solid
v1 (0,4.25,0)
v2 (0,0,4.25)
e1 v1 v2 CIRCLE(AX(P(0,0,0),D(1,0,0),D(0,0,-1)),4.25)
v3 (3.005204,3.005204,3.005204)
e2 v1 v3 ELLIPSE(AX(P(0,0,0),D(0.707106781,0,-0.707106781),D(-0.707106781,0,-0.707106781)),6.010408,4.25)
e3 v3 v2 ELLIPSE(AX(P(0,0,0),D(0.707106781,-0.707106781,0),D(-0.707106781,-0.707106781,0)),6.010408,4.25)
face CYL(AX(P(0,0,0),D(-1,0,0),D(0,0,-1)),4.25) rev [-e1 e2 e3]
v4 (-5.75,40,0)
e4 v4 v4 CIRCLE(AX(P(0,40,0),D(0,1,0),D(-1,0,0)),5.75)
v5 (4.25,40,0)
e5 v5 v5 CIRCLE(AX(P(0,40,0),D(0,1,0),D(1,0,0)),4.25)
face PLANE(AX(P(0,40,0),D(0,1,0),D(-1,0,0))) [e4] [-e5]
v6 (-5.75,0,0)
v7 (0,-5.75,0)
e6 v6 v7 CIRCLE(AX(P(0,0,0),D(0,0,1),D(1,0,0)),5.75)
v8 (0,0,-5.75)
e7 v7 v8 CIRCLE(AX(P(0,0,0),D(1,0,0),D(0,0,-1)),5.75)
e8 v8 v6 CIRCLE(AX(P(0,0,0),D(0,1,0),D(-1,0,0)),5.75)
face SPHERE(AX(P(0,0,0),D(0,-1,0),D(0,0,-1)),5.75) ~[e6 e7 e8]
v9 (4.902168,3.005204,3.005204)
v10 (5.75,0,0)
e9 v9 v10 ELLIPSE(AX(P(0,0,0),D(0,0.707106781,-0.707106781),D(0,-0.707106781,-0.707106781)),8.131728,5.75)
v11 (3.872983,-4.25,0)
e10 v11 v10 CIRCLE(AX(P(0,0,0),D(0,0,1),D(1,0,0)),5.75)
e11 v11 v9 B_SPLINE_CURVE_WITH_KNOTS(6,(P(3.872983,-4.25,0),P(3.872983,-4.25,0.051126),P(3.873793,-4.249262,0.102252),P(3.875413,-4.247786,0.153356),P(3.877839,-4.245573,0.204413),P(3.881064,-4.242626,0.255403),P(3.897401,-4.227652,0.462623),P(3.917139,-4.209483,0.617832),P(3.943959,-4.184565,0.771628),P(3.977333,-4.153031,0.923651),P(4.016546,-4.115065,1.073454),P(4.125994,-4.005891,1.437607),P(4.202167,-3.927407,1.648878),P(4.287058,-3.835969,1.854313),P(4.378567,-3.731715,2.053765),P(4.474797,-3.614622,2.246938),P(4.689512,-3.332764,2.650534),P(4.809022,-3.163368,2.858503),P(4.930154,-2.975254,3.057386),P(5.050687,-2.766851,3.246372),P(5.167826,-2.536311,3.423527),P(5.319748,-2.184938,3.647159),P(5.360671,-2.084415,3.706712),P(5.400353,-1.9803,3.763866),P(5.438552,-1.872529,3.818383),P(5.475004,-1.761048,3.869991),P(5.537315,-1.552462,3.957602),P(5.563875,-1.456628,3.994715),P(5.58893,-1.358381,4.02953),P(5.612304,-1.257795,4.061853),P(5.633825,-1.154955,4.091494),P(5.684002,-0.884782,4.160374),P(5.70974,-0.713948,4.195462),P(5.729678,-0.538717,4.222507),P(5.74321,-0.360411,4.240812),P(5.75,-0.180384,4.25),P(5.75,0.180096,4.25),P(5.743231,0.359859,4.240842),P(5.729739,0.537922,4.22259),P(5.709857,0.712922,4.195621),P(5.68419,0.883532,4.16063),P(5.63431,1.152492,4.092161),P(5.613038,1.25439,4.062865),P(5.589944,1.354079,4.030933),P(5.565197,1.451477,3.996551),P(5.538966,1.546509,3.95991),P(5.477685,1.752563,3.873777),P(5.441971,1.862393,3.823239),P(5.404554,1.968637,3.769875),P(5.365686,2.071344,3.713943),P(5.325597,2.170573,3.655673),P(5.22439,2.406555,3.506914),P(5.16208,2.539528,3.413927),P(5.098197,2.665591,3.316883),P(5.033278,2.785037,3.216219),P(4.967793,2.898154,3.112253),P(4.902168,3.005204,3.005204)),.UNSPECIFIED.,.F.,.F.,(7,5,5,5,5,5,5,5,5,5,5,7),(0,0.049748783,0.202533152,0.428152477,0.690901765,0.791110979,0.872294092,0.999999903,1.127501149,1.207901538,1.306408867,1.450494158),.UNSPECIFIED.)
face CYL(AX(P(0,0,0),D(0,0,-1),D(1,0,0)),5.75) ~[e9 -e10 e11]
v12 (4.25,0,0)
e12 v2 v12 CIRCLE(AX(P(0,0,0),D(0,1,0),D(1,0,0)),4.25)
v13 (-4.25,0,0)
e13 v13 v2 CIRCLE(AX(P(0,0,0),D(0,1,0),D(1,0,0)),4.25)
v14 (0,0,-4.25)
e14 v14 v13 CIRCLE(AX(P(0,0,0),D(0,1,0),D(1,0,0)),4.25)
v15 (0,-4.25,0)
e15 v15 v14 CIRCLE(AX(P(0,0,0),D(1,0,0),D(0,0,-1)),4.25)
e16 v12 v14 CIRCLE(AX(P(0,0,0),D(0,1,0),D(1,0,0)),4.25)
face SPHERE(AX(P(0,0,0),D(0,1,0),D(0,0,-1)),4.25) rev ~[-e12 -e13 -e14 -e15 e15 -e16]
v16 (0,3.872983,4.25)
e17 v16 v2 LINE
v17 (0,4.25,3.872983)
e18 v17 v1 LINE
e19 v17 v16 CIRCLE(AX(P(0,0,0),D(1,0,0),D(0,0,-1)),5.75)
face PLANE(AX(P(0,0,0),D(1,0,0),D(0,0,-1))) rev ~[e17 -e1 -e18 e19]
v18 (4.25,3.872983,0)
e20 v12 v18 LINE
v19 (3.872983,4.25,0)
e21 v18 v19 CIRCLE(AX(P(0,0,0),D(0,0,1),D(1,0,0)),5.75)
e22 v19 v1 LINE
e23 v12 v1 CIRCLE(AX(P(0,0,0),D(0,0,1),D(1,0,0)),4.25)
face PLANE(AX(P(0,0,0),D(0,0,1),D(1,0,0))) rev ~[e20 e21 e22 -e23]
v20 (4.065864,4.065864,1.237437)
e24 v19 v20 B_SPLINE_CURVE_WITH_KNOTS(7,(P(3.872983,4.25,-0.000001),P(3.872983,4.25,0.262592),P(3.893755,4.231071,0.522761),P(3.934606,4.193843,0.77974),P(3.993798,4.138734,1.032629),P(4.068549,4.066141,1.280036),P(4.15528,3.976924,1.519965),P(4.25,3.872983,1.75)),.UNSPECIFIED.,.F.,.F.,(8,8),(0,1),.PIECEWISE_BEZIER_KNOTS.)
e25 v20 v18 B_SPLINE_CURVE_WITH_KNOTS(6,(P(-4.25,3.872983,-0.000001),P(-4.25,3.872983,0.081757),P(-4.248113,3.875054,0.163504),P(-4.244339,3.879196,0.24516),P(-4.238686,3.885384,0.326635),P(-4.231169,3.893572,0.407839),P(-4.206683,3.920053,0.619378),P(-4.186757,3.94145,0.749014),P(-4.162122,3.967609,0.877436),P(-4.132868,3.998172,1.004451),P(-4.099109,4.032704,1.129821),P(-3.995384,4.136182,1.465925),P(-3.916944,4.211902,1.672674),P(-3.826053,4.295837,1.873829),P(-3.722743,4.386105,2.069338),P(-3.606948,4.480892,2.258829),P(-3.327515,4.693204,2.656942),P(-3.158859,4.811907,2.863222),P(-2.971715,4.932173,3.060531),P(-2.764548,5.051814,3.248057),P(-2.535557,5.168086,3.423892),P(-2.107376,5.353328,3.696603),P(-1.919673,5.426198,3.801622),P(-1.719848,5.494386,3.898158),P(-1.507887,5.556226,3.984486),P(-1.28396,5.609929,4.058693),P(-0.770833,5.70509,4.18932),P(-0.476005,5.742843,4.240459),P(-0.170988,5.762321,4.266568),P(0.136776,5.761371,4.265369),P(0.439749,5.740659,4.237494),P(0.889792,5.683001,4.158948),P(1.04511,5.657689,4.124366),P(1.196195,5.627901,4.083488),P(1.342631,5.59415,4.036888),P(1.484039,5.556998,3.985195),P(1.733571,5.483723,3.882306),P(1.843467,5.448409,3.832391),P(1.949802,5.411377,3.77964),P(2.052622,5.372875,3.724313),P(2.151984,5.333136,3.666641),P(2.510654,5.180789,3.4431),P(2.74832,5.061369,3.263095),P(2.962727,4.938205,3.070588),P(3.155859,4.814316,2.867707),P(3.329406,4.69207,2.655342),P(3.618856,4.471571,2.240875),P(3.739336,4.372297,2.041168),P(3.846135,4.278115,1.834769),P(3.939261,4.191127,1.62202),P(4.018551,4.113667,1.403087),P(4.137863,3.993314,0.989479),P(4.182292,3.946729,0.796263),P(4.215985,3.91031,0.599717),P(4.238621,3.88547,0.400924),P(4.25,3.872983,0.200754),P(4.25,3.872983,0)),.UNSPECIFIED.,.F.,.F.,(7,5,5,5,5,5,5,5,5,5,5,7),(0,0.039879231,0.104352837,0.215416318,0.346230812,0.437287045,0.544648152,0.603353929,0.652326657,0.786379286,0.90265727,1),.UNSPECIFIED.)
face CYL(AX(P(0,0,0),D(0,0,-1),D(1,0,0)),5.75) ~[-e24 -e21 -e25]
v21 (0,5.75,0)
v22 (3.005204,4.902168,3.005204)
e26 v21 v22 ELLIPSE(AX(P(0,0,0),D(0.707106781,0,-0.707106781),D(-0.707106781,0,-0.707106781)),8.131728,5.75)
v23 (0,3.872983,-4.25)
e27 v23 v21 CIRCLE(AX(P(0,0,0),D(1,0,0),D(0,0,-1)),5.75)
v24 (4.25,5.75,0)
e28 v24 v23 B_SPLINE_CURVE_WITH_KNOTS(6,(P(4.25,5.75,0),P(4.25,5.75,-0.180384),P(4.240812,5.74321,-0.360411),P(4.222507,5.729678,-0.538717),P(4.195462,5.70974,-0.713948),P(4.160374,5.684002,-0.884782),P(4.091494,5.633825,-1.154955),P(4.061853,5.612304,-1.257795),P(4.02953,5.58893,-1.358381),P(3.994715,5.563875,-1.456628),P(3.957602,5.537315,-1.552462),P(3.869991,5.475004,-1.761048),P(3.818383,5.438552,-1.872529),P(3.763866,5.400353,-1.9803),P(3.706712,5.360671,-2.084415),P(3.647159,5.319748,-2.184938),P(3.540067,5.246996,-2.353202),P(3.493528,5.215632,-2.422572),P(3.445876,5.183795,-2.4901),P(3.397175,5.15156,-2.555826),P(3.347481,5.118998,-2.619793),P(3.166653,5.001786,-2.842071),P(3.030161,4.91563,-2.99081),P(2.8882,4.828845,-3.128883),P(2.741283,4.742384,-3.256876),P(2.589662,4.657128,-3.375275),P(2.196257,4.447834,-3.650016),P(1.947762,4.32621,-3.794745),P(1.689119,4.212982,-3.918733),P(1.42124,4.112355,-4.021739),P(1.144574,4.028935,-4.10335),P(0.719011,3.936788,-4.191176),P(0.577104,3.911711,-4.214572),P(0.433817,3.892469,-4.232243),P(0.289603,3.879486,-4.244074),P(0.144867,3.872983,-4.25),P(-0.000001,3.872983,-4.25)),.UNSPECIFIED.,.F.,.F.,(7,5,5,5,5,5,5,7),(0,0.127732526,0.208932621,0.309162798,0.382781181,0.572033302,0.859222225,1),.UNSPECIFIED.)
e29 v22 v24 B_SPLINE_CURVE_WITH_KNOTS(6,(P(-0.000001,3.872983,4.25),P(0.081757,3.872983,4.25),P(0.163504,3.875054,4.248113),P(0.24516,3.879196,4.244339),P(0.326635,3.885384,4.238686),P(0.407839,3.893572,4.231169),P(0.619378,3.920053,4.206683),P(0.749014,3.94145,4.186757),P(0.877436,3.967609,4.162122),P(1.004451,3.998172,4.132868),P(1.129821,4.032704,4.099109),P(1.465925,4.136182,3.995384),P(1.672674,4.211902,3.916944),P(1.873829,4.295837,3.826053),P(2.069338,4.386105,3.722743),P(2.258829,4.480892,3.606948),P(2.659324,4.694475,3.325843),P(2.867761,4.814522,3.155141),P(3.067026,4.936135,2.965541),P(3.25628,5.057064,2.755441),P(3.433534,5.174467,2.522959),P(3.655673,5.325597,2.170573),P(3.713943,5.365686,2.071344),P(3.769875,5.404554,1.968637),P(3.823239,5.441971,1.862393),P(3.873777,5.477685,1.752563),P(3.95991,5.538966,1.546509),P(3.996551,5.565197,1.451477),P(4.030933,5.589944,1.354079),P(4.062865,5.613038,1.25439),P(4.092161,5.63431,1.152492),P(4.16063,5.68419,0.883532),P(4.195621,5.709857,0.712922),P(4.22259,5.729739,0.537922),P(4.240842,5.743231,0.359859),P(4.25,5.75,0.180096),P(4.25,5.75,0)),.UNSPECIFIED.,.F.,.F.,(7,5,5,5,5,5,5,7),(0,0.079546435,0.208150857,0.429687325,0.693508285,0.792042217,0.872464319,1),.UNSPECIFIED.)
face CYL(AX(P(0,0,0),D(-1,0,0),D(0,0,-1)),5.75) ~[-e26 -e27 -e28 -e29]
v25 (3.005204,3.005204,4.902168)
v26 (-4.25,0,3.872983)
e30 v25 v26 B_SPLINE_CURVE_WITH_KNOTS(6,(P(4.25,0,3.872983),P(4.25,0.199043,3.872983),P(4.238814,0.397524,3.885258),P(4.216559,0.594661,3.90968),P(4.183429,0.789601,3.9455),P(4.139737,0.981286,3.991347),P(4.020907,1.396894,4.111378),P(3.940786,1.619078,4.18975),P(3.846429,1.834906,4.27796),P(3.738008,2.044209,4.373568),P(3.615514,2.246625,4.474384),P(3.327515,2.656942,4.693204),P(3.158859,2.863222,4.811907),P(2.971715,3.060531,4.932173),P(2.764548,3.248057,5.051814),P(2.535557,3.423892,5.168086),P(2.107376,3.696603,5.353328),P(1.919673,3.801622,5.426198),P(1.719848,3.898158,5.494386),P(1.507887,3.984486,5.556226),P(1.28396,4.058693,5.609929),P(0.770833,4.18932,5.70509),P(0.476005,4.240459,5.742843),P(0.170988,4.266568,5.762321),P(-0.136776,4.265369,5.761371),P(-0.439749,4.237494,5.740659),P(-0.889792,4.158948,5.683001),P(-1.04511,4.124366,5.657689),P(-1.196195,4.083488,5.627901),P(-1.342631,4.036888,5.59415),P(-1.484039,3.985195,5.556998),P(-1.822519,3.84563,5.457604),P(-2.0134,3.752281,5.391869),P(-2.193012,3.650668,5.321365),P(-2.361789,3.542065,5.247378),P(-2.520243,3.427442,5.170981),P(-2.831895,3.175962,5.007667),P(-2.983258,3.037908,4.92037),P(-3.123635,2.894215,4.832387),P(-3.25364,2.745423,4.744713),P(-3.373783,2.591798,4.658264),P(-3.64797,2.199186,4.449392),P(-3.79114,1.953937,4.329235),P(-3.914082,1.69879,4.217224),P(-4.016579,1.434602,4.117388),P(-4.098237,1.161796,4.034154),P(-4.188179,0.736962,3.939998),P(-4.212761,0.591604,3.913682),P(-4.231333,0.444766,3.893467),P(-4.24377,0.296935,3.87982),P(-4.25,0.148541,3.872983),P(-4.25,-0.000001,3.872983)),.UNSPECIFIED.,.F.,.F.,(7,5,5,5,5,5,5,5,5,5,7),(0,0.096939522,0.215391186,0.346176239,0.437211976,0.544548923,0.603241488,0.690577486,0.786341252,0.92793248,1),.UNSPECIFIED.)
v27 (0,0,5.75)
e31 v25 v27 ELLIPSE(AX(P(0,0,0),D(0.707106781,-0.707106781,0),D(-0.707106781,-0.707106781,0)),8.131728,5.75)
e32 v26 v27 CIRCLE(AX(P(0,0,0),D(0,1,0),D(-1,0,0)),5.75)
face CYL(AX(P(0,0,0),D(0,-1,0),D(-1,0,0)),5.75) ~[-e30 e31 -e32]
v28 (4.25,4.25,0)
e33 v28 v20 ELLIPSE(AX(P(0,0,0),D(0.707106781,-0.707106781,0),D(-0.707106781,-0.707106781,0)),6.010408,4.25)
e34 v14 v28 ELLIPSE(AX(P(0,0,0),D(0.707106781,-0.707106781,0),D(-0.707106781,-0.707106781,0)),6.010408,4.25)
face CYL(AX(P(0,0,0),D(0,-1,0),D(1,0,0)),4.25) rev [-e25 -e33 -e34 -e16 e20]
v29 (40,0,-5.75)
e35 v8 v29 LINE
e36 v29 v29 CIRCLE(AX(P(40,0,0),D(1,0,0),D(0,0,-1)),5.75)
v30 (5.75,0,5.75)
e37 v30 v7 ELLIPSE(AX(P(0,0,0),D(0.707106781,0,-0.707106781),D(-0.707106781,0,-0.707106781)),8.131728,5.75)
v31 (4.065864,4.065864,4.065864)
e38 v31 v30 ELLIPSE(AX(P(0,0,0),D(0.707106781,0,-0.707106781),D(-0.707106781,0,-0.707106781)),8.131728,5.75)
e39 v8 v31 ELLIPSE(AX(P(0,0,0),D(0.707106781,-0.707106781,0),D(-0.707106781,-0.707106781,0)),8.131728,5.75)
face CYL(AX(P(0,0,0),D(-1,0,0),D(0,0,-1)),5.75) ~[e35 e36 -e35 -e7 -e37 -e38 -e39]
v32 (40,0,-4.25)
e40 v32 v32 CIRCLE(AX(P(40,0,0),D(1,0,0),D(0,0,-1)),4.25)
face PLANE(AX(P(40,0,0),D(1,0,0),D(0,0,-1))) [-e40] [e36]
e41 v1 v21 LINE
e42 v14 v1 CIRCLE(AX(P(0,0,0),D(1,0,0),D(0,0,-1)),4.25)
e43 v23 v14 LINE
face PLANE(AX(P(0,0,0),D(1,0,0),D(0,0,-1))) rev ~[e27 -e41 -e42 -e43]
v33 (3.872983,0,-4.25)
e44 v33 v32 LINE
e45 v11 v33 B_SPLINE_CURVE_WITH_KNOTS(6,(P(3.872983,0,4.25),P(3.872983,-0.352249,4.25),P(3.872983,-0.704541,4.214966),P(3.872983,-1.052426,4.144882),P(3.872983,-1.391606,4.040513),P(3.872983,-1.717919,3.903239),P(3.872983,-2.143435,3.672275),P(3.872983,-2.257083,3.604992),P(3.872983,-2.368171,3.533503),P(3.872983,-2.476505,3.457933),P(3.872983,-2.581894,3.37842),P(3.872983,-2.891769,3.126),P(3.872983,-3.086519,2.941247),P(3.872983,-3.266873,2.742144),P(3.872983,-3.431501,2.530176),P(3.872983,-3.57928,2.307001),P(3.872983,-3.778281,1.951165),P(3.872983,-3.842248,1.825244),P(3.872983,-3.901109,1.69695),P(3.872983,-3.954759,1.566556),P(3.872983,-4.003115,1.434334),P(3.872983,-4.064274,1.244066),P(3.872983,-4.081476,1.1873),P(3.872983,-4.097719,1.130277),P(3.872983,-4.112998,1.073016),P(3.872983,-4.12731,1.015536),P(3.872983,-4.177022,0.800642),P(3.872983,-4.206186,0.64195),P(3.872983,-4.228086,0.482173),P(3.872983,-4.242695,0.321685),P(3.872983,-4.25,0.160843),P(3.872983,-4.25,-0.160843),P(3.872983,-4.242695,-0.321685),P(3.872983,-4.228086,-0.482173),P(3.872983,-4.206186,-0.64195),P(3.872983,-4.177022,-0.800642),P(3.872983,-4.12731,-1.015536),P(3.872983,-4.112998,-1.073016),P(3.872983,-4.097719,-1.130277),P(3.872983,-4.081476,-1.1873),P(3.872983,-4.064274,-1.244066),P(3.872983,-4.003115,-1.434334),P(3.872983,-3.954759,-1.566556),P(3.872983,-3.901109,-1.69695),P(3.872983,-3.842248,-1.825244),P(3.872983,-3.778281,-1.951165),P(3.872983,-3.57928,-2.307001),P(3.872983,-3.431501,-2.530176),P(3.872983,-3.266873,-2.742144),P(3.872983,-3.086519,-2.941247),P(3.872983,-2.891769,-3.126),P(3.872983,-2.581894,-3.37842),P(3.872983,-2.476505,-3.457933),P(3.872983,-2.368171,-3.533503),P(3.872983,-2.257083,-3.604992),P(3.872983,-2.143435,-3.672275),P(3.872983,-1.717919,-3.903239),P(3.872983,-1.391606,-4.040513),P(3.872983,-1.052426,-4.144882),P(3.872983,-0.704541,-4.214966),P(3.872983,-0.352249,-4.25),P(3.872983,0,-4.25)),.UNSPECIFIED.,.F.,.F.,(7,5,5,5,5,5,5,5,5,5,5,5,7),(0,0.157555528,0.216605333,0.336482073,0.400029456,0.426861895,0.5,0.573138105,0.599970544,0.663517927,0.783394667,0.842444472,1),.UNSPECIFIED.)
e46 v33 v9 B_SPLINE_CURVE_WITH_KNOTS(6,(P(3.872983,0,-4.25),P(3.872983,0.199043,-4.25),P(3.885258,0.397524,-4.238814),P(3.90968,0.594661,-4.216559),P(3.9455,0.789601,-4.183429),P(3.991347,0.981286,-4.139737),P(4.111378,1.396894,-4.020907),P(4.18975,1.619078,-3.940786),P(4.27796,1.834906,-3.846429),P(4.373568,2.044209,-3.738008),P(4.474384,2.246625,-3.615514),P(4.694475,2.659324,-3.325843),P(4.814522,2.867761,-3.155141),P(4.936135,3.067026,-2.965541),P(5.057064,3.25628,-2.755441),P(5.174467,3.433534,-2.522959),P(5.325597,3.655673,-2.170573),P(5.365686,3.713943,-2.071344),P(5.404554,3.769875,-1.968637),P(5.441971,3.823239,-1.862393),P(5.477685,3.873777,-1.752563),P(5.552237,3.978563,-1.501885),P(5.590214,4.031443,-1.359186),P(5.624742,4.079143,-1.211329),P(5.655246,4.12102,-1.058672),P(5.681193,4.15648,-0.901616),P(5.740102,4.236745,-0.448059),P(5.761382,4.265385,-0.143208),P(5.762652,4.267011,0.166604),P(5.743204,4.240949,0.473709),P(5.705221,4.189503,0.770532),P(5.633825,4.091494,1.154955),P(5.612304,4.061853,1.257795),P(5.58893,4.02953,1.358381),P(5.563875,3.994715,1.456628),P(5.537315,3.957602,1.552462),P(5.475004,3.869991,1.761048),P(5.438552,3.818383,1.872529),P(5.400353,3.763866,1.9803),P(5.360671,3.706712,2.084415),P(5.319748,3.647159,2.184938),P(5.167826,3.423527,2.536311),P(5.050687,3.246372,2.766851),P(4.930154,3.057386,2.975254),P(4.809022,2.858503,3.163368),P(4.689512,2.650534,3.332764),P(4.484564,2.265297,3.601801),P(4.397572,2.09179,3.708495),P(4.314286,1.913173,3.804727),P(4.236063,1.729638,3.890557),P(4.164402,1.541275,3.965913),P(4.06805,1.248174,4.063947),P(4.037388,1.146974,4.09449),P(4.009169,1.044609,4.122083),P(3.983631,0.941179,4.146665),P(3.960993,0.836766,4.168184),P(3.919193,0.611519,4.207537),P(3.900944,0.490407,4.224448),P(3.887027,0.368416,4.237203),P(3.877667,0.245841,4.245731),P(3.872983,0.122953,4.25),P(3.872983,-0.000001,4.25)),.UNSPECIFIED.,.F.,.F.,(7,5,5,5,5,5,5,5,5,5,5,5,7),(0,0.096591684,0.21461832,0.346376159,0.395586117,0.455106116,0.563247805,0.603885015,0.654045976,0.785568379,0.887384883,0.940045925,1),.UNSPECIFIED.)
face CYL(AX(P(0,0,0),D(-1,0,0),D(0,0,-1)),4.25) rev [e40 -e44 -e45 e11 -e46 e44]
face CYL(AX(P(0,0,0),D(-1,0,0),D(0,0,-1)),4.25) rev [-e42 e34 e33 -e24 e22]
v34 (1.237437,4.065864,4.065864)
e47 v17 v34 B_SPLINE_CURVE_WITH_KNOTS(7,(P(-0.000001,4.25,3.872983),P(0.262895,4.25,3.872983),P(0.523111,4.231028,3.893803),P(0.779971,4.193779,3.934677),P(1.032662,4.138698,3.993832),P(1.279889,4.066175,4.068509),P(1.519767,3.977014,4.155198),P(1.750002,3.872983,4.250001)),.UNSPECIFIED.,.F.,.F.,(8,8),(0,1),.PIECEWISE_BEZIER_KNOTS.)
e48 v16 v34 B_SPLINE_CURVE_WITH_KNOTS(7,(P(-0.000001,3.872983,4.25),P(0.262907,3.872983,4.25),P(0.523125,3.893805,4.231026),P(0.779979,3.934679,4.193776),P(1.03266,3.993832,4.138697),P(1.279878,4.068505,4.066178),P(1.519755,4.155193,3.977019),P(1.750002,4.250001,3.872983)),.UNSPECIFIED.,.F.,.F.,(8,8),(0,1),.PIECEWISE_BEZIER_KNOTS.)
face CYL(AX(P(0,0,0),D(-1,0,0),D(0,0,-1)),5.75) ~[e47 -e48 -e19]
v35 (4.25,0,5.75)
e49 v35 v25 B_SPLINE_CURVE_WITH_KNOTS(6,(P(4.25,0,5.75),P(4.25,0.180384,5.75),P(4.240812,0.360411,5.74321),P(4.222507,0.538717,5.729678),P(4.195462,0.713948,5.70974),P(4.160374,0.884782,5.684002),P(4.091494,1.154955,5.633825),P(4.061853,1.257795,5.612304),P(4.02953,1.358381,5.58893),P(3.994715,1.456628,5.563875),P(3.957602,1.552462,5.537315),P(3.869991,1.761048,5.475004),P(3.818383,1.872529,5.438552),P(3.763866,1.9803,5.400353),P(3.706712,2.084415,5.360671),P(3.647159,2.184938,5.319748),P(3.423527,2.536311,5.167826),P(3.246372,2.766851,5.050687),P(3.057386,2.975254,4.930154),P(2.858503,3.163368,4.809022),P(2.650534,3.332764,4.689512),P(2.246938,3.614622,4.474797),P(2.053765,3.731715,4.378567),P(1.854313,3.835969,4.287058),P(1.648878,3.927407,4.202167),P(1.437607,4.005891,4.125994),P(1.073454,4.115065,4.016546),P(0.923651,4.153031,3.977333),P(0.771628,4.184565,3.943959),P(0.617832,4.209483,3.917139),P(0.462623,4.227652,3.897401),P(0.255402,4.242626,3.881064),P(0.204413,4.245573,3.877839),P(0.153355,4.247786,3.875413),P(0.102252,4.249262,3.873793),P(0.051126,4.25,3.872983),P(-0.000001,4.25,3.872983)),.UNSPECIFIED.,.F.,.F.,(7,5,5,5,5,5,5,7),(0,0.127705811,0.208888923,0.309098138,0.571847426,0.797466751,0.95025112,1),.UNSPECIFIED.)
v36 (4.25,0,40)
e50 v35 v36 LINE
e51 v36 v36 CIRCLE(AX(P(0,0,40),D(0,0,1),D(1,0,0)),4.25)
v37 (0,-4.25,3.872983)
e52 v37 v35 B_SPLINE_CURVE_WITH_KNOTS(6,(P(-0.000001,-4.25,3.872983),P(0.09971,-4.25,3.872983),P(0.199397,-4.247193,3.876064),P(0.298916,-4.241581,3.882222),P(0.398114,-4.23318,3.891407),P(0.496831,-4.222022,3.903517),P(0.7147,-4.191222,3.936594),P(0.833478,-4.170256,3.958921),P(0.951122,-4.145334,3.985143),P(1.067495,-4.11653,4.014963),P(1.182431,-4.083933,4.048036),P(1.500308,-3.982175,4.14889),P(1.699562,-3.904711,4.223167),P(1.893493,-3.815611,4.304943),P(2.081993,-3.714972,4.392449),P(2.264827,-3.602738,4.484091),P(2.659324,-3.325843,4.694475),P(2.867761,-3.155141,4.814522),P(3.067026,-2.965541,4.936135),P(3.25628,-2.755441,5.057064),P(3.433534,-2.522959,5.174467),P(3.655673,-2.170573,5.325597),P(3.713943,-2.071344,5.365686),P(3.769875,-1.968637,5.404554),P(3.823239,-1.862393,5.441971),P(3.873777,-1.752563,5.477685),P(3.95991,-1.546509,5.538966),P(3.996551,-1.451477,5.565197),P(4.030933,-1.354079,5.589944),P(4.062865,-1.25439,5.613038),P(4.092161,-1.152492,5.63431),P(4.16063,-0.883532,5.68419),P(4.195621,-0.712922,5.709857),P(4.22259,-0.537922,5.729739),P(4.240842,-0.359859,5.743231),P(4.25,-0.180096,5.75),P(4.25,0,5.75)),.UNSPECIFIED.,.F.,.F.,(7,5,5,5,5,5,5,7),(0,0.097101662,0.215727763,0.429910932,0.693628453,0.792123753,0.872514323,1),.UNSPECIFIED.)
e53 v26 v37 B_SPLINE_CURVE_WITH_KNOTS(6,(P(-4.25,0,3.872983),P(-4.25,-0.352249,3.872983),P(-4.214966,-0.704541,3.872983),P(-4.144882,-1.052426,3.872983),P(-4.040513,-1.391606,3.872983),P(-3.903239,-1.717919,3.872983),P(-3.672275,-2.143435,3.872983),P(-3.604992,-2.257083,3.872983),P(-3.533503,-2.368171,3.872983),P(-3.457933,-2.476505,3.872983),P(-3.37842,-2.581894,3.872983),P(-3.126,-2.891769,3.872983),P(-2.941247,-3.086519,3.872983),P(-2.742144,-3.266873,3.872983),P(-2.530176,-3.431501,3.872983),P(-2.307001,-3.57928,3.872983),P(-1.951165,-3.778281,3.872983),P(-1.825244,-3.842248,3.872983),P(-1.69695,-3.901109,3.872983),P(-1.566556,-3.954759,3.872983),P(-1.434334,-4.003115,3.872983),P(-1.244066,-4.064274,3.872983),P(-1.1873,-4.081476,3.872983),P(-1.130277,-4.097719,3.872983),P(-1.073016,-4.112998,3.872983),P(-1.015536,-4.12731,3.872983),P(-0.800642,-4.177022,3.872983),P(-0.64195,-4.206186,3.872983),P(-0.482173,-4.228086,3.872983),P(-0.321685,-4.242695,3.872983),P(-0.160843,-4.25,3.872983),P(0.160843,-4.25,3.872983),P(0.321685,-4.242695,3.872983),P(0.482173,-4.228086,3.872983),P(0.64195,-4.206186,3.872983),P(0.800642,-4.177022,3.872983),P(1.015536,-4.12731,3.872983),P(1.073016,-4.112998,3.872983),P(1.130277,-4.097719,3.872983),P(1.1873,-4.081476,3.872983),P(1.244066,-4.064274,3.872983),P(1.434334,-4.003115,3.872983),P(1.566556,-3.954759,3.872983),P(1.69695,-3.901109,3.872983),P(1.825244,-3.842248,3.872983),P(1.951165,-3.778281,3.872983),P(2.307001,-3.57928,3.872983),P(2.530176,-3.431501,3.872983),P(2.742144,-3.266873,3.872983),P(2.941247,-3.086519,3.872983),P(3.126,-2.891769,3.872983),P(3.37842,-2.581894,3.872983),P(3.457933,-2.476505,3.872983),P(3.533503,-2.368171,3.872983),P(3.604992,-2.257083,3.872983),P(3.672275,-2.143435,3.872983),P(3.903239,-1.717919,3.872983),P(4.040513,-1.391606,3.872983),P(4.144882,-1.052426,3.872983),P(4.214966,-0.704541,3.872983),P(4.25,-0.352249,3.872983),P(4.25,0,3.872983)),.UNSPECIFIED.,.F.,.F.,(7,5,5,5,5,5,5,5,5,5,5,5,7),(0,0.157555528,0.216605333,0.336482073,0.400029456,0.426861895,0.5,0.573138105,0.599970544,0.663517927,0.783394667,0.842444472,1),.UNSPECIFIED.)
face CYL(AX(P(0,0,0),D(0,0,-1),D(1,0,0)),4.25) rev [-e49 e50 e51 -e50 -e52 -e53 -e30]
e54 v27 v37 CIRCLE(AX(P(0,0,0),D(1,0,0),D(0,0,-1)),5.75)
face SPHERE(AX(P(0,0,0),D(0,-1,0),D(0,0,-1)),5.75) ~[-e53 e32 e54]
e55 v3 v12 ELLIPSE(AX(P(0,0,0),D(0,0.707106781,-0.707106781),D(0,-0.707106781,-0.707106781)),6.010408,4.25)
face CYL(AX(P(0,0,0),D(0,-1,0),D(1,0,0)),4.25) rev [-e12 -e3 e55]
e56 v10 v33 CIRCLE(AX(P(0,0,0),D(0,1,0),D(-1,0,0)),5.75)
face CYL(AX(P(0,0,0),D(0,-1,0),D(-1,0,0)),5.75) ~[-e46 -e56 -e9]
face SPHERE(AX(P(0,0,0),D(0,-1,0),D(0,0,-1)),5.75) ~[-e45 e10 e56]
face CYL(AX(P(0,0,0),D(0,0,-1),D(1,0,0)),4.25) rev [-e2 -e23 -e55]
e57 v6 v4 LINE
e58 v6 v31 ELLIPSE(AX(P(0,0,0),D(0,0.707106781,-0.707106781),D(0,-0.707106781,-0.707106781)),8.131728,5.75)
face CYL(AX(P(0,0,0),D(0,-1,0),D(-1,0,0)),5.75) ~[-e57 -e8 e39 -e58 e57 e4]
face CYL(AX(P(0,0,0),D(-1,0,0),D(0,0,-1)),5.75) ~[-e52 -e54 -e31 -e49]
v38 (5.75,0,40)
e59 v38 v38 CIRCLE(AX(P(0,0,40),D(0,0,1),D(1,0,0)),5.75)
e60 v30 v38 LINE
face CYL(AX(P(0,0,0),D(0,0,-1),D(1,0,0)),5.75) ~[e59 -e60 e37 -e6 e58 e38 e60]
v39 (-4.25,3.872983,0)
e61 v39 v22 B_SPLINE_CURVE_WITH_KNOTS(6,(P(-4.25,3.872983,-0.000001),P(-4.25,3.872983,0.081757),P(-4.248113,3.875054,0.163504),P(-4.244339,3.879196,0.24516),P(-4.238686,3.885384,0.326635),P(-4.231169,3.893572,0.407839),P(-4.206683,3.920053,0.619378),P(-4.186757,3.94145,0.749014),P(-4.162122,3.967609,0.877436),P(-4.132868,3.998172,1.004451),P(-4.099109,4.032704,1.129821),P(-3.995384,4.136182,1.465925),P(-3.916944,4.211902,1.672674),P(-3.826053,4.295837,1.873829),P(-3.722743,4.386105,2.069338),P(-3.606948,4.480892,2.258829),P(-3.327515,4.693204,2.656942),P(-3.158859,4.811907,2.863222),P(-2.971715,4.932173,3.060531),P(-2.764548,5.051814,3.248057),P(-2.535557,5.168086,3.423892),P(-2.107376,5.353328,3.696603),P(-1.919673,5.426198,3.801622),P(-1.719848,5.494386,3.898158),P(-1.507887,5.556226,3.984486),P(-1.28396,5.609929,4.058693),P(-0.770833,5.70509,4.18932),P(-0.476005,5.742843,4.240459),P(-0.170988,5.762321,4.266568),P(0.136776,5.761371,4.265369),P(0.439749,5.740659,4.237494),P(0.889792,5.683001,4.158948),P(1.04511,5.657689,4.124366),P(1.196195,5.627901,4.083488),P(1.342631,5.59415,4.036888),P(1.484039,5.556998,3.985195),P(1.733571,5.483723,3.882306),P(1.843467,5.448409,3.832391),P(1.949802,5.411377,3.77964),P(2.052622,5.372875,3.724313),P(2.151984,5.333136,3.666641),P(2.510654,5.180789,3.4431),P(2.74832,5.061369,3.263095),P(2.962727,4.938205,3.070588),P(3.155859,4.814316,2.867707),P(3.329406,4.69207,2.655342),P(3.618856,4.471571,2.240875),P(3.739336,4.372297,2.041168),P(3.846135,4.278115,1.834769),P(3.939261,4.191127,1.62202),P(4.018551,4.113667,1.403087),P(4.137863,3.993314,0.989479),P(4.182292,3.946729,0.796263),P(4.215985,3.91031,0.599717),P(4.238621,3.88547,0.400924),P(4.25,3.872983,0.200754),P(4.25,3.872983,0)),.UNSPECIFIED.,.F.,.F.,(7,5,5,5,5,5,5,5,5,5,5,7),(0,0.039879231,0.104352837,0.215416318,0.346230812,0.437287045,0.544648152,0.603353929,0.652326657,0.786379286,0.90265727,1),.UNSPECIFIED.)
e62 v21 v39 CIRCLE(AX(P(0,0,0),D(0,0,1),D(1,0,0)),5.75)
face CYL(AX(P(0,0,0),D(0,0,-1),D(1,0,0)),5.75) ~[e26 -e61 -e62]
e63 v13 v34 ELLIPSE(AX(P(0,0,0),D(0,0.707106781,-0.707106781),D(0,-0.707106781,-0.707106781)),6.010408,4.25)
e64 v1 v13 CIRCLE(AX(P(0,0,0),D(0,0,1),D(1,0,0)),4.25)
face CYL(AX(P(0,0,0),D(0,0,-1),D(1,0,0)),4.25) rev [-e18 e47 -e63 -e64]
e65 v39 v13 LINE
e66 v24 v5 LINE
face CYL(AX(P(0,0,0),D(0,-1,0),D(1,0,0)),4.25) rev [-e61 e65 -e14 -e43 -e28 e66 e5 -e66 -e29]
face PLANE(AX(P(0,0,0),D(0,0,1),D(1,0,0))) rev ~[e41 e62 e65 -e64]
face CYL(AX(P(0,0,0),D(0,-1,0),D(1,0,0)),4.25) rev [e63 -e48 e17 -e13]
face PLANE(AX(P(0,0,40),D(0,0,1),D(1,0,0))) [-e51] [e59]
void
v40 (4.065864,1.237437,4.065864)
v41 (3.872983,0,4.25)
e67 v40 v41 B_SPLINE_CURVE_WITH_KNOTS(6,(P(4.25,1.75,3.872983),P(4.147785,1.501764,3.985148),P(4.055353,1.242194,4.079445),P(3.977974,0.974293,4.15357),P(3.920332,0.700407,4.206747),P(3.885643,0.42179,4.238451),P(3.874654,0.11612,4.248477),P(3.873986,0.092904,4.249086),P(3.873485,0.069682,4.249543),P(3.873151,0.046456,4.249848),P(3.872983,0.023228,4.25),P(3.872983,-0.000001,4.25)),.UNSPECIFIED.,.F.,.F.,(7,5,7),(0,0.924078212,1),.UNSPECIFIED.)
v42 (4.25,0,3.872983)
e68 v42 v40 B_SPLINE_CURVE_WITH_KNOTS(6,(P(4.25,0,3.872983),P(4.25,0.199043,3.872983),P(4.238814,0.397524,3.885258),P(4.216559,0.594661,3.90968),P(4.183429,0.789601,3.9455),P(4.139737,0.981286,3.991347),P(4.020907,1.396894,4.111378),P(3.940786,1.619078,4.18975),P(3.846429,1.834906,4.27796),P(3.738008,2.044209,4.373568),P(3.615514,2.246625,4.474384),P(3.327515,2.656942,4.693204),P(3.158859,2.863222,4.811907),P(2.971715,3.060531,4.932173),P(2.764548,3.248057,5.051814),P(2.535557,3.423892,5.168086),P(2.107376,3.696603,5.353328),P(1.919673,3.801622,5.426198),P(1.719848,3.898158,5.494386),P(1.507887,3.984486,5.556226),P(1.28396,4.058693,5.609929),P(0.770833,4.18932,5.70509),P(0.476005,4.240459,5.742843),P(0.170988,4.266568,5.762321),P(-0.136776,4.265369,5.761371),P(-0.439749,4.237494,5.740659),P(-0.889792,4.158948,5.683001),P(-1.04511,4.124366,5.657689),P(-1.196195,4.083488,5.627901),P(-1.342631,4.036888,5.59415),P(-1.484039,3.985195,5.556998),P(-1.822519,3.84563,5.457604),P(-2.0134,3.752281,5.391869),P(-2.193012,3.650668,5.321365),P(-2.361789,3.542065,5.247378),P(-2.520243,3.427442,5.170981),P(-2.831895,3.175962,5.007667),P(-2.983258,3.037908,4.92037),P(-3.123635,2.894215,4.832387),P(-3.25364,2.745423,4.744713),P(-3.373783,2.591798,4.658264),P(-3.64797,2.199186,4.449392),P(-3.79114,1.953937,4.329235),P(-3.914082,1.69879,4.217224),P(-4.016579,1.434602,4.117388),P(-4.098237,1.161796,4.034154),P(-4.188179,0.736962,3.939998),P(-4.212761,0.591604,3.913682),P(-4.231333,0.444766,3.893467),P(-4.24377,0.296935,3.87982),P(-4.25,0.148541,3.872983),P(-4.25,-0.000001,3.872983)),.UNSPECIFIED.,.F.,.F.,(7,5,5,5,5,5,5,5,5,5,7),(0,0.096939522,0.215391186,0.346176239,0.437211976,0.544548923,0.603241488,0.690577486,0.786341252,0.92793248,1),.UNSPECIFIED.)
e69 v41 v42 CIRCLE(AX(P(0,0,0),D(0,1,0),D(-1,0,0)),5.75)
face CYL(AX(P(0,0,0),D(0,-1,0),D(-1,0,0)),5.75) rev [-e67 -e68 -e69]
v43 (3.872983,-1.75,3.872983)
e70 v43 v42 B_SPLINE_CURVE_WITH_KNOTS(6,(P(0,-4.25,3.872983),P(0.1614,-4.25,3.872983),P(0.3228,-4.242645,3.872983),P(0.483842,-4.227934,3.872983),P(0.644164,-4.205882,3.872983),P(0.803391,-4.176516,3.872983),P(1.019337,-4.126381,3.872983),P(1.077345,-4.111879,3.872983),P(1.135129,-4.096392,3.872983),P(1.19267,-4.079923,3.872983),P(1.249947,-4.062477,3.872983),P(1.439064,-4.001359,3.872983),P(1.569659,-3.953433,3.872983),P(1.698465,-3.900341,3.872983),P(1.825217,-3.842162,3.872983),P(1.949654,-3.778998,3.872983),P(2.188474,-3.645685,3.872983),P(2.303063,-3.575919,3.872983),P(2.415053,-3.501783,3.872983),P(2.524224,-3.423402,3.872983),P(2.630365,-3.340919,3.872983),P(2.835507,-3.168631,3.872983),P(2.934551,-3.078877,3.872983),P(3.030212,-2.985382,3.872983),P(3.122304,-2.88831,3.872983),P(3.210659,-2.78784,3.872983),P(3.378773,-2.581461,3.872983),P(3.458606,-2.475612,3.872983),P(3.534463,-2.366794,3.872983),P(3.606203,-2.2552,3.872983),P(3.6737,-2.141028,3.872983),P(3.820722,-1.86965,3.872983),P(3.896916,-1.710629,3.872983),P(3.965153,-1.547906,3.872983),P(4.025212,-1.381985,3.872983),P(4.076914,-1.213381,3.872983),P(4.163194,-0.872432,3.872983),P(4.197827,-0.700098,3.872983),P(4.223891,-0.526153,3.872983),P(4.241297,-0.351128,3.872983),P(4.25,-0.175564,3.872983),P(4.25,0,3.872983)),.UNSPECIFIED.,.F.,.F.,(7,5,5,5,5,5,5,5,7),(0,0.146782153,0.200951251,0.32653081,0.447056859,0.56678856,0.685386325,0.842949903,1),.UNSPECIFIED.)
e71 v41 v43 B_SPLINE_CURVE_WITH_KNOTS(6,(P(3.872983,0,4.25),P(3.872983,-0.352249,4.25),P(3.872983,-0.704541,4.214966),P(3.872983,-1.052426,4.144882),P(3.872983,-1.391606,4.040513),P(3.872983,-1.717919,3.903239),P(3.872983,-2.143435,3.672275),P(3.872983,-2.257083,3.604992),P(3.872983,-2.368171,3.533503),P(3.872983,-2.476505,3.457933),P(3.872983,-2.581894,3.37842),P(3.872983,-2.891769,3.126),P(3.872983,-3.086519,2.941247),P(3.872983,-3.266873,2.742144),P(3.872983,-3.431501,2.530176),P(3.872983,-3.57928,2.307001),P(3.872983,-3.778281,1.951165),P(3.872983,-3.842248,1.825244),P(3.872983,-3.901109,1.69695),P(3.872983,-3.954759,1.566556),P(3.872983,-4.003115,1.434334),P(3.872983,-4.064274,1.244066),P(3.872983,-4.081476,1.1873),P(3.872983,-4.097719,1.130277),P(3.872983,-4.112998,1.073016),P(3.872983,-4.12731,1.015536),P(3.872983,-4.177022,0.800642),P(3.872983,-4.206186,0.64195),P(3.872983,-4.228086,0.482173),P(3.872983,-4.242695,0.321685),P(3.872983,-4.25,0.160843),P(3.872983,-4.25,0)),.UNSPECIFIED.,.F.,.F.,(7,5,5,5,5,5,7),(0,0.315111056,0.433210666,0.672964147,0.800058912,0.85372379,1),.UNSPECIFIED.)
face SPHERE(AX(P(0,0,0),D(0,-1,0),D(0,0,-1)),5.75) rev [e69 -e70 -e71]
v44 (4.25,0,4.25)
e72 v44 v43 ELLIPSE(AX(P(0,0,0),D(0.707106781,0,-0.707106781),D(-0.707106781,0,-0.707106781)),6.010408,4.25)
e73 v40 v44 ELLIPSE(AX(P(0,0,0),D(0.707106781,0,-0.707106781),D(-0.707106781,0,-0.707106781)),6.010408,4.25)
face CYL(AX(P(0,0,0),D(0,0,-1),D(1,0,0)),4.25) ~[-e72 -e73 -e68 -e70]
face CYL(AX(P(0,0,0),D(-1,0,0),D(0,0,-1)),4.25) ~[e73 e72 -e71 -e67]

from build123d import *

# Parameters (mm, degrees)
SKETCH_1_R      = 5.75
SKETCH_1_R_2    = 4.25
EXTRUDE_1_DEPTH = 40
SKETCH_2_R      = 5.75
SKETCH_2_R_2    = 4.25
EXTRUDE_2_DEPTH = 40
SKETCH_3_R      = 5.75
SKETCH_3_R_2    = 4.25
EXTRUDE_3_DEPTH = 40


with BuildPart() as part:
    # 草图1 → 凸台-拉伸1 (new body)
    with BuildSketch(Plane.XY):
        Circle(SKETCH_1_R)
        Circle(SKETCH_1_R_2, mode=Mode.SUBTRACT)
    extrude(amount=EXTRUDE_1_DEPTH)

    # 草图2 → 凸台-拉伸2 (add)
    with BuildSketch(Plane(origin=(0, 0, 0), x_dir=(1, 0, 0), z_dir=(0, 1, 0))):
        with Locations(Location((0, 0, 0), (0, 0, 180))):
            Circle(SKETCH_2_R)
        Circle(SKETCH_2_R_2, mode=Mode.SUBTRACT)
    extrude(amount=EXTRUDE_2_DEPTH)

    # 草图3 → 凸台-拉伸3 (add)
    with BuildSketch(Plane(origin=(0, 0, 0), x_dir=(0, 0, -1), z_dir=(1, 0, 0))):
        Circle(SKETCH_3_R)
        Circle(SKETCH_3_R_2, mode=Mode.SUBTRACT)
    extrude(amount=EXTRUDE_3_DEPTH)

    # 草图4 → 旋转1 (revolve)
    with BuildSketch(Plane(origin=(0, 0, 0), x_dir=(-1, 0, 0), z_dir=(0, 0, -1)), mode=Mode.PRIVATE) as revolve_1_sk:
        with BuildLine():
            Line((4.25, 0), (5.75, 0))
            ThreePointArc((5.75, 0), (4.065863992, -4.065863992), (0, -5.75))
            Line((0, -5.75), (0, -4.25))
            ThreePointArc((0, -4.25), (3.00520382, -3.00520382), (4.25, 0))
        make_face()
    revolve(revolve_1_sk.sketch.rotate(Axis((0, -4.25, 0), (0, 1, 0)), 270), axis=Axis((0, -4.25, 0), (0, 1, 0)))


solid = part.part
